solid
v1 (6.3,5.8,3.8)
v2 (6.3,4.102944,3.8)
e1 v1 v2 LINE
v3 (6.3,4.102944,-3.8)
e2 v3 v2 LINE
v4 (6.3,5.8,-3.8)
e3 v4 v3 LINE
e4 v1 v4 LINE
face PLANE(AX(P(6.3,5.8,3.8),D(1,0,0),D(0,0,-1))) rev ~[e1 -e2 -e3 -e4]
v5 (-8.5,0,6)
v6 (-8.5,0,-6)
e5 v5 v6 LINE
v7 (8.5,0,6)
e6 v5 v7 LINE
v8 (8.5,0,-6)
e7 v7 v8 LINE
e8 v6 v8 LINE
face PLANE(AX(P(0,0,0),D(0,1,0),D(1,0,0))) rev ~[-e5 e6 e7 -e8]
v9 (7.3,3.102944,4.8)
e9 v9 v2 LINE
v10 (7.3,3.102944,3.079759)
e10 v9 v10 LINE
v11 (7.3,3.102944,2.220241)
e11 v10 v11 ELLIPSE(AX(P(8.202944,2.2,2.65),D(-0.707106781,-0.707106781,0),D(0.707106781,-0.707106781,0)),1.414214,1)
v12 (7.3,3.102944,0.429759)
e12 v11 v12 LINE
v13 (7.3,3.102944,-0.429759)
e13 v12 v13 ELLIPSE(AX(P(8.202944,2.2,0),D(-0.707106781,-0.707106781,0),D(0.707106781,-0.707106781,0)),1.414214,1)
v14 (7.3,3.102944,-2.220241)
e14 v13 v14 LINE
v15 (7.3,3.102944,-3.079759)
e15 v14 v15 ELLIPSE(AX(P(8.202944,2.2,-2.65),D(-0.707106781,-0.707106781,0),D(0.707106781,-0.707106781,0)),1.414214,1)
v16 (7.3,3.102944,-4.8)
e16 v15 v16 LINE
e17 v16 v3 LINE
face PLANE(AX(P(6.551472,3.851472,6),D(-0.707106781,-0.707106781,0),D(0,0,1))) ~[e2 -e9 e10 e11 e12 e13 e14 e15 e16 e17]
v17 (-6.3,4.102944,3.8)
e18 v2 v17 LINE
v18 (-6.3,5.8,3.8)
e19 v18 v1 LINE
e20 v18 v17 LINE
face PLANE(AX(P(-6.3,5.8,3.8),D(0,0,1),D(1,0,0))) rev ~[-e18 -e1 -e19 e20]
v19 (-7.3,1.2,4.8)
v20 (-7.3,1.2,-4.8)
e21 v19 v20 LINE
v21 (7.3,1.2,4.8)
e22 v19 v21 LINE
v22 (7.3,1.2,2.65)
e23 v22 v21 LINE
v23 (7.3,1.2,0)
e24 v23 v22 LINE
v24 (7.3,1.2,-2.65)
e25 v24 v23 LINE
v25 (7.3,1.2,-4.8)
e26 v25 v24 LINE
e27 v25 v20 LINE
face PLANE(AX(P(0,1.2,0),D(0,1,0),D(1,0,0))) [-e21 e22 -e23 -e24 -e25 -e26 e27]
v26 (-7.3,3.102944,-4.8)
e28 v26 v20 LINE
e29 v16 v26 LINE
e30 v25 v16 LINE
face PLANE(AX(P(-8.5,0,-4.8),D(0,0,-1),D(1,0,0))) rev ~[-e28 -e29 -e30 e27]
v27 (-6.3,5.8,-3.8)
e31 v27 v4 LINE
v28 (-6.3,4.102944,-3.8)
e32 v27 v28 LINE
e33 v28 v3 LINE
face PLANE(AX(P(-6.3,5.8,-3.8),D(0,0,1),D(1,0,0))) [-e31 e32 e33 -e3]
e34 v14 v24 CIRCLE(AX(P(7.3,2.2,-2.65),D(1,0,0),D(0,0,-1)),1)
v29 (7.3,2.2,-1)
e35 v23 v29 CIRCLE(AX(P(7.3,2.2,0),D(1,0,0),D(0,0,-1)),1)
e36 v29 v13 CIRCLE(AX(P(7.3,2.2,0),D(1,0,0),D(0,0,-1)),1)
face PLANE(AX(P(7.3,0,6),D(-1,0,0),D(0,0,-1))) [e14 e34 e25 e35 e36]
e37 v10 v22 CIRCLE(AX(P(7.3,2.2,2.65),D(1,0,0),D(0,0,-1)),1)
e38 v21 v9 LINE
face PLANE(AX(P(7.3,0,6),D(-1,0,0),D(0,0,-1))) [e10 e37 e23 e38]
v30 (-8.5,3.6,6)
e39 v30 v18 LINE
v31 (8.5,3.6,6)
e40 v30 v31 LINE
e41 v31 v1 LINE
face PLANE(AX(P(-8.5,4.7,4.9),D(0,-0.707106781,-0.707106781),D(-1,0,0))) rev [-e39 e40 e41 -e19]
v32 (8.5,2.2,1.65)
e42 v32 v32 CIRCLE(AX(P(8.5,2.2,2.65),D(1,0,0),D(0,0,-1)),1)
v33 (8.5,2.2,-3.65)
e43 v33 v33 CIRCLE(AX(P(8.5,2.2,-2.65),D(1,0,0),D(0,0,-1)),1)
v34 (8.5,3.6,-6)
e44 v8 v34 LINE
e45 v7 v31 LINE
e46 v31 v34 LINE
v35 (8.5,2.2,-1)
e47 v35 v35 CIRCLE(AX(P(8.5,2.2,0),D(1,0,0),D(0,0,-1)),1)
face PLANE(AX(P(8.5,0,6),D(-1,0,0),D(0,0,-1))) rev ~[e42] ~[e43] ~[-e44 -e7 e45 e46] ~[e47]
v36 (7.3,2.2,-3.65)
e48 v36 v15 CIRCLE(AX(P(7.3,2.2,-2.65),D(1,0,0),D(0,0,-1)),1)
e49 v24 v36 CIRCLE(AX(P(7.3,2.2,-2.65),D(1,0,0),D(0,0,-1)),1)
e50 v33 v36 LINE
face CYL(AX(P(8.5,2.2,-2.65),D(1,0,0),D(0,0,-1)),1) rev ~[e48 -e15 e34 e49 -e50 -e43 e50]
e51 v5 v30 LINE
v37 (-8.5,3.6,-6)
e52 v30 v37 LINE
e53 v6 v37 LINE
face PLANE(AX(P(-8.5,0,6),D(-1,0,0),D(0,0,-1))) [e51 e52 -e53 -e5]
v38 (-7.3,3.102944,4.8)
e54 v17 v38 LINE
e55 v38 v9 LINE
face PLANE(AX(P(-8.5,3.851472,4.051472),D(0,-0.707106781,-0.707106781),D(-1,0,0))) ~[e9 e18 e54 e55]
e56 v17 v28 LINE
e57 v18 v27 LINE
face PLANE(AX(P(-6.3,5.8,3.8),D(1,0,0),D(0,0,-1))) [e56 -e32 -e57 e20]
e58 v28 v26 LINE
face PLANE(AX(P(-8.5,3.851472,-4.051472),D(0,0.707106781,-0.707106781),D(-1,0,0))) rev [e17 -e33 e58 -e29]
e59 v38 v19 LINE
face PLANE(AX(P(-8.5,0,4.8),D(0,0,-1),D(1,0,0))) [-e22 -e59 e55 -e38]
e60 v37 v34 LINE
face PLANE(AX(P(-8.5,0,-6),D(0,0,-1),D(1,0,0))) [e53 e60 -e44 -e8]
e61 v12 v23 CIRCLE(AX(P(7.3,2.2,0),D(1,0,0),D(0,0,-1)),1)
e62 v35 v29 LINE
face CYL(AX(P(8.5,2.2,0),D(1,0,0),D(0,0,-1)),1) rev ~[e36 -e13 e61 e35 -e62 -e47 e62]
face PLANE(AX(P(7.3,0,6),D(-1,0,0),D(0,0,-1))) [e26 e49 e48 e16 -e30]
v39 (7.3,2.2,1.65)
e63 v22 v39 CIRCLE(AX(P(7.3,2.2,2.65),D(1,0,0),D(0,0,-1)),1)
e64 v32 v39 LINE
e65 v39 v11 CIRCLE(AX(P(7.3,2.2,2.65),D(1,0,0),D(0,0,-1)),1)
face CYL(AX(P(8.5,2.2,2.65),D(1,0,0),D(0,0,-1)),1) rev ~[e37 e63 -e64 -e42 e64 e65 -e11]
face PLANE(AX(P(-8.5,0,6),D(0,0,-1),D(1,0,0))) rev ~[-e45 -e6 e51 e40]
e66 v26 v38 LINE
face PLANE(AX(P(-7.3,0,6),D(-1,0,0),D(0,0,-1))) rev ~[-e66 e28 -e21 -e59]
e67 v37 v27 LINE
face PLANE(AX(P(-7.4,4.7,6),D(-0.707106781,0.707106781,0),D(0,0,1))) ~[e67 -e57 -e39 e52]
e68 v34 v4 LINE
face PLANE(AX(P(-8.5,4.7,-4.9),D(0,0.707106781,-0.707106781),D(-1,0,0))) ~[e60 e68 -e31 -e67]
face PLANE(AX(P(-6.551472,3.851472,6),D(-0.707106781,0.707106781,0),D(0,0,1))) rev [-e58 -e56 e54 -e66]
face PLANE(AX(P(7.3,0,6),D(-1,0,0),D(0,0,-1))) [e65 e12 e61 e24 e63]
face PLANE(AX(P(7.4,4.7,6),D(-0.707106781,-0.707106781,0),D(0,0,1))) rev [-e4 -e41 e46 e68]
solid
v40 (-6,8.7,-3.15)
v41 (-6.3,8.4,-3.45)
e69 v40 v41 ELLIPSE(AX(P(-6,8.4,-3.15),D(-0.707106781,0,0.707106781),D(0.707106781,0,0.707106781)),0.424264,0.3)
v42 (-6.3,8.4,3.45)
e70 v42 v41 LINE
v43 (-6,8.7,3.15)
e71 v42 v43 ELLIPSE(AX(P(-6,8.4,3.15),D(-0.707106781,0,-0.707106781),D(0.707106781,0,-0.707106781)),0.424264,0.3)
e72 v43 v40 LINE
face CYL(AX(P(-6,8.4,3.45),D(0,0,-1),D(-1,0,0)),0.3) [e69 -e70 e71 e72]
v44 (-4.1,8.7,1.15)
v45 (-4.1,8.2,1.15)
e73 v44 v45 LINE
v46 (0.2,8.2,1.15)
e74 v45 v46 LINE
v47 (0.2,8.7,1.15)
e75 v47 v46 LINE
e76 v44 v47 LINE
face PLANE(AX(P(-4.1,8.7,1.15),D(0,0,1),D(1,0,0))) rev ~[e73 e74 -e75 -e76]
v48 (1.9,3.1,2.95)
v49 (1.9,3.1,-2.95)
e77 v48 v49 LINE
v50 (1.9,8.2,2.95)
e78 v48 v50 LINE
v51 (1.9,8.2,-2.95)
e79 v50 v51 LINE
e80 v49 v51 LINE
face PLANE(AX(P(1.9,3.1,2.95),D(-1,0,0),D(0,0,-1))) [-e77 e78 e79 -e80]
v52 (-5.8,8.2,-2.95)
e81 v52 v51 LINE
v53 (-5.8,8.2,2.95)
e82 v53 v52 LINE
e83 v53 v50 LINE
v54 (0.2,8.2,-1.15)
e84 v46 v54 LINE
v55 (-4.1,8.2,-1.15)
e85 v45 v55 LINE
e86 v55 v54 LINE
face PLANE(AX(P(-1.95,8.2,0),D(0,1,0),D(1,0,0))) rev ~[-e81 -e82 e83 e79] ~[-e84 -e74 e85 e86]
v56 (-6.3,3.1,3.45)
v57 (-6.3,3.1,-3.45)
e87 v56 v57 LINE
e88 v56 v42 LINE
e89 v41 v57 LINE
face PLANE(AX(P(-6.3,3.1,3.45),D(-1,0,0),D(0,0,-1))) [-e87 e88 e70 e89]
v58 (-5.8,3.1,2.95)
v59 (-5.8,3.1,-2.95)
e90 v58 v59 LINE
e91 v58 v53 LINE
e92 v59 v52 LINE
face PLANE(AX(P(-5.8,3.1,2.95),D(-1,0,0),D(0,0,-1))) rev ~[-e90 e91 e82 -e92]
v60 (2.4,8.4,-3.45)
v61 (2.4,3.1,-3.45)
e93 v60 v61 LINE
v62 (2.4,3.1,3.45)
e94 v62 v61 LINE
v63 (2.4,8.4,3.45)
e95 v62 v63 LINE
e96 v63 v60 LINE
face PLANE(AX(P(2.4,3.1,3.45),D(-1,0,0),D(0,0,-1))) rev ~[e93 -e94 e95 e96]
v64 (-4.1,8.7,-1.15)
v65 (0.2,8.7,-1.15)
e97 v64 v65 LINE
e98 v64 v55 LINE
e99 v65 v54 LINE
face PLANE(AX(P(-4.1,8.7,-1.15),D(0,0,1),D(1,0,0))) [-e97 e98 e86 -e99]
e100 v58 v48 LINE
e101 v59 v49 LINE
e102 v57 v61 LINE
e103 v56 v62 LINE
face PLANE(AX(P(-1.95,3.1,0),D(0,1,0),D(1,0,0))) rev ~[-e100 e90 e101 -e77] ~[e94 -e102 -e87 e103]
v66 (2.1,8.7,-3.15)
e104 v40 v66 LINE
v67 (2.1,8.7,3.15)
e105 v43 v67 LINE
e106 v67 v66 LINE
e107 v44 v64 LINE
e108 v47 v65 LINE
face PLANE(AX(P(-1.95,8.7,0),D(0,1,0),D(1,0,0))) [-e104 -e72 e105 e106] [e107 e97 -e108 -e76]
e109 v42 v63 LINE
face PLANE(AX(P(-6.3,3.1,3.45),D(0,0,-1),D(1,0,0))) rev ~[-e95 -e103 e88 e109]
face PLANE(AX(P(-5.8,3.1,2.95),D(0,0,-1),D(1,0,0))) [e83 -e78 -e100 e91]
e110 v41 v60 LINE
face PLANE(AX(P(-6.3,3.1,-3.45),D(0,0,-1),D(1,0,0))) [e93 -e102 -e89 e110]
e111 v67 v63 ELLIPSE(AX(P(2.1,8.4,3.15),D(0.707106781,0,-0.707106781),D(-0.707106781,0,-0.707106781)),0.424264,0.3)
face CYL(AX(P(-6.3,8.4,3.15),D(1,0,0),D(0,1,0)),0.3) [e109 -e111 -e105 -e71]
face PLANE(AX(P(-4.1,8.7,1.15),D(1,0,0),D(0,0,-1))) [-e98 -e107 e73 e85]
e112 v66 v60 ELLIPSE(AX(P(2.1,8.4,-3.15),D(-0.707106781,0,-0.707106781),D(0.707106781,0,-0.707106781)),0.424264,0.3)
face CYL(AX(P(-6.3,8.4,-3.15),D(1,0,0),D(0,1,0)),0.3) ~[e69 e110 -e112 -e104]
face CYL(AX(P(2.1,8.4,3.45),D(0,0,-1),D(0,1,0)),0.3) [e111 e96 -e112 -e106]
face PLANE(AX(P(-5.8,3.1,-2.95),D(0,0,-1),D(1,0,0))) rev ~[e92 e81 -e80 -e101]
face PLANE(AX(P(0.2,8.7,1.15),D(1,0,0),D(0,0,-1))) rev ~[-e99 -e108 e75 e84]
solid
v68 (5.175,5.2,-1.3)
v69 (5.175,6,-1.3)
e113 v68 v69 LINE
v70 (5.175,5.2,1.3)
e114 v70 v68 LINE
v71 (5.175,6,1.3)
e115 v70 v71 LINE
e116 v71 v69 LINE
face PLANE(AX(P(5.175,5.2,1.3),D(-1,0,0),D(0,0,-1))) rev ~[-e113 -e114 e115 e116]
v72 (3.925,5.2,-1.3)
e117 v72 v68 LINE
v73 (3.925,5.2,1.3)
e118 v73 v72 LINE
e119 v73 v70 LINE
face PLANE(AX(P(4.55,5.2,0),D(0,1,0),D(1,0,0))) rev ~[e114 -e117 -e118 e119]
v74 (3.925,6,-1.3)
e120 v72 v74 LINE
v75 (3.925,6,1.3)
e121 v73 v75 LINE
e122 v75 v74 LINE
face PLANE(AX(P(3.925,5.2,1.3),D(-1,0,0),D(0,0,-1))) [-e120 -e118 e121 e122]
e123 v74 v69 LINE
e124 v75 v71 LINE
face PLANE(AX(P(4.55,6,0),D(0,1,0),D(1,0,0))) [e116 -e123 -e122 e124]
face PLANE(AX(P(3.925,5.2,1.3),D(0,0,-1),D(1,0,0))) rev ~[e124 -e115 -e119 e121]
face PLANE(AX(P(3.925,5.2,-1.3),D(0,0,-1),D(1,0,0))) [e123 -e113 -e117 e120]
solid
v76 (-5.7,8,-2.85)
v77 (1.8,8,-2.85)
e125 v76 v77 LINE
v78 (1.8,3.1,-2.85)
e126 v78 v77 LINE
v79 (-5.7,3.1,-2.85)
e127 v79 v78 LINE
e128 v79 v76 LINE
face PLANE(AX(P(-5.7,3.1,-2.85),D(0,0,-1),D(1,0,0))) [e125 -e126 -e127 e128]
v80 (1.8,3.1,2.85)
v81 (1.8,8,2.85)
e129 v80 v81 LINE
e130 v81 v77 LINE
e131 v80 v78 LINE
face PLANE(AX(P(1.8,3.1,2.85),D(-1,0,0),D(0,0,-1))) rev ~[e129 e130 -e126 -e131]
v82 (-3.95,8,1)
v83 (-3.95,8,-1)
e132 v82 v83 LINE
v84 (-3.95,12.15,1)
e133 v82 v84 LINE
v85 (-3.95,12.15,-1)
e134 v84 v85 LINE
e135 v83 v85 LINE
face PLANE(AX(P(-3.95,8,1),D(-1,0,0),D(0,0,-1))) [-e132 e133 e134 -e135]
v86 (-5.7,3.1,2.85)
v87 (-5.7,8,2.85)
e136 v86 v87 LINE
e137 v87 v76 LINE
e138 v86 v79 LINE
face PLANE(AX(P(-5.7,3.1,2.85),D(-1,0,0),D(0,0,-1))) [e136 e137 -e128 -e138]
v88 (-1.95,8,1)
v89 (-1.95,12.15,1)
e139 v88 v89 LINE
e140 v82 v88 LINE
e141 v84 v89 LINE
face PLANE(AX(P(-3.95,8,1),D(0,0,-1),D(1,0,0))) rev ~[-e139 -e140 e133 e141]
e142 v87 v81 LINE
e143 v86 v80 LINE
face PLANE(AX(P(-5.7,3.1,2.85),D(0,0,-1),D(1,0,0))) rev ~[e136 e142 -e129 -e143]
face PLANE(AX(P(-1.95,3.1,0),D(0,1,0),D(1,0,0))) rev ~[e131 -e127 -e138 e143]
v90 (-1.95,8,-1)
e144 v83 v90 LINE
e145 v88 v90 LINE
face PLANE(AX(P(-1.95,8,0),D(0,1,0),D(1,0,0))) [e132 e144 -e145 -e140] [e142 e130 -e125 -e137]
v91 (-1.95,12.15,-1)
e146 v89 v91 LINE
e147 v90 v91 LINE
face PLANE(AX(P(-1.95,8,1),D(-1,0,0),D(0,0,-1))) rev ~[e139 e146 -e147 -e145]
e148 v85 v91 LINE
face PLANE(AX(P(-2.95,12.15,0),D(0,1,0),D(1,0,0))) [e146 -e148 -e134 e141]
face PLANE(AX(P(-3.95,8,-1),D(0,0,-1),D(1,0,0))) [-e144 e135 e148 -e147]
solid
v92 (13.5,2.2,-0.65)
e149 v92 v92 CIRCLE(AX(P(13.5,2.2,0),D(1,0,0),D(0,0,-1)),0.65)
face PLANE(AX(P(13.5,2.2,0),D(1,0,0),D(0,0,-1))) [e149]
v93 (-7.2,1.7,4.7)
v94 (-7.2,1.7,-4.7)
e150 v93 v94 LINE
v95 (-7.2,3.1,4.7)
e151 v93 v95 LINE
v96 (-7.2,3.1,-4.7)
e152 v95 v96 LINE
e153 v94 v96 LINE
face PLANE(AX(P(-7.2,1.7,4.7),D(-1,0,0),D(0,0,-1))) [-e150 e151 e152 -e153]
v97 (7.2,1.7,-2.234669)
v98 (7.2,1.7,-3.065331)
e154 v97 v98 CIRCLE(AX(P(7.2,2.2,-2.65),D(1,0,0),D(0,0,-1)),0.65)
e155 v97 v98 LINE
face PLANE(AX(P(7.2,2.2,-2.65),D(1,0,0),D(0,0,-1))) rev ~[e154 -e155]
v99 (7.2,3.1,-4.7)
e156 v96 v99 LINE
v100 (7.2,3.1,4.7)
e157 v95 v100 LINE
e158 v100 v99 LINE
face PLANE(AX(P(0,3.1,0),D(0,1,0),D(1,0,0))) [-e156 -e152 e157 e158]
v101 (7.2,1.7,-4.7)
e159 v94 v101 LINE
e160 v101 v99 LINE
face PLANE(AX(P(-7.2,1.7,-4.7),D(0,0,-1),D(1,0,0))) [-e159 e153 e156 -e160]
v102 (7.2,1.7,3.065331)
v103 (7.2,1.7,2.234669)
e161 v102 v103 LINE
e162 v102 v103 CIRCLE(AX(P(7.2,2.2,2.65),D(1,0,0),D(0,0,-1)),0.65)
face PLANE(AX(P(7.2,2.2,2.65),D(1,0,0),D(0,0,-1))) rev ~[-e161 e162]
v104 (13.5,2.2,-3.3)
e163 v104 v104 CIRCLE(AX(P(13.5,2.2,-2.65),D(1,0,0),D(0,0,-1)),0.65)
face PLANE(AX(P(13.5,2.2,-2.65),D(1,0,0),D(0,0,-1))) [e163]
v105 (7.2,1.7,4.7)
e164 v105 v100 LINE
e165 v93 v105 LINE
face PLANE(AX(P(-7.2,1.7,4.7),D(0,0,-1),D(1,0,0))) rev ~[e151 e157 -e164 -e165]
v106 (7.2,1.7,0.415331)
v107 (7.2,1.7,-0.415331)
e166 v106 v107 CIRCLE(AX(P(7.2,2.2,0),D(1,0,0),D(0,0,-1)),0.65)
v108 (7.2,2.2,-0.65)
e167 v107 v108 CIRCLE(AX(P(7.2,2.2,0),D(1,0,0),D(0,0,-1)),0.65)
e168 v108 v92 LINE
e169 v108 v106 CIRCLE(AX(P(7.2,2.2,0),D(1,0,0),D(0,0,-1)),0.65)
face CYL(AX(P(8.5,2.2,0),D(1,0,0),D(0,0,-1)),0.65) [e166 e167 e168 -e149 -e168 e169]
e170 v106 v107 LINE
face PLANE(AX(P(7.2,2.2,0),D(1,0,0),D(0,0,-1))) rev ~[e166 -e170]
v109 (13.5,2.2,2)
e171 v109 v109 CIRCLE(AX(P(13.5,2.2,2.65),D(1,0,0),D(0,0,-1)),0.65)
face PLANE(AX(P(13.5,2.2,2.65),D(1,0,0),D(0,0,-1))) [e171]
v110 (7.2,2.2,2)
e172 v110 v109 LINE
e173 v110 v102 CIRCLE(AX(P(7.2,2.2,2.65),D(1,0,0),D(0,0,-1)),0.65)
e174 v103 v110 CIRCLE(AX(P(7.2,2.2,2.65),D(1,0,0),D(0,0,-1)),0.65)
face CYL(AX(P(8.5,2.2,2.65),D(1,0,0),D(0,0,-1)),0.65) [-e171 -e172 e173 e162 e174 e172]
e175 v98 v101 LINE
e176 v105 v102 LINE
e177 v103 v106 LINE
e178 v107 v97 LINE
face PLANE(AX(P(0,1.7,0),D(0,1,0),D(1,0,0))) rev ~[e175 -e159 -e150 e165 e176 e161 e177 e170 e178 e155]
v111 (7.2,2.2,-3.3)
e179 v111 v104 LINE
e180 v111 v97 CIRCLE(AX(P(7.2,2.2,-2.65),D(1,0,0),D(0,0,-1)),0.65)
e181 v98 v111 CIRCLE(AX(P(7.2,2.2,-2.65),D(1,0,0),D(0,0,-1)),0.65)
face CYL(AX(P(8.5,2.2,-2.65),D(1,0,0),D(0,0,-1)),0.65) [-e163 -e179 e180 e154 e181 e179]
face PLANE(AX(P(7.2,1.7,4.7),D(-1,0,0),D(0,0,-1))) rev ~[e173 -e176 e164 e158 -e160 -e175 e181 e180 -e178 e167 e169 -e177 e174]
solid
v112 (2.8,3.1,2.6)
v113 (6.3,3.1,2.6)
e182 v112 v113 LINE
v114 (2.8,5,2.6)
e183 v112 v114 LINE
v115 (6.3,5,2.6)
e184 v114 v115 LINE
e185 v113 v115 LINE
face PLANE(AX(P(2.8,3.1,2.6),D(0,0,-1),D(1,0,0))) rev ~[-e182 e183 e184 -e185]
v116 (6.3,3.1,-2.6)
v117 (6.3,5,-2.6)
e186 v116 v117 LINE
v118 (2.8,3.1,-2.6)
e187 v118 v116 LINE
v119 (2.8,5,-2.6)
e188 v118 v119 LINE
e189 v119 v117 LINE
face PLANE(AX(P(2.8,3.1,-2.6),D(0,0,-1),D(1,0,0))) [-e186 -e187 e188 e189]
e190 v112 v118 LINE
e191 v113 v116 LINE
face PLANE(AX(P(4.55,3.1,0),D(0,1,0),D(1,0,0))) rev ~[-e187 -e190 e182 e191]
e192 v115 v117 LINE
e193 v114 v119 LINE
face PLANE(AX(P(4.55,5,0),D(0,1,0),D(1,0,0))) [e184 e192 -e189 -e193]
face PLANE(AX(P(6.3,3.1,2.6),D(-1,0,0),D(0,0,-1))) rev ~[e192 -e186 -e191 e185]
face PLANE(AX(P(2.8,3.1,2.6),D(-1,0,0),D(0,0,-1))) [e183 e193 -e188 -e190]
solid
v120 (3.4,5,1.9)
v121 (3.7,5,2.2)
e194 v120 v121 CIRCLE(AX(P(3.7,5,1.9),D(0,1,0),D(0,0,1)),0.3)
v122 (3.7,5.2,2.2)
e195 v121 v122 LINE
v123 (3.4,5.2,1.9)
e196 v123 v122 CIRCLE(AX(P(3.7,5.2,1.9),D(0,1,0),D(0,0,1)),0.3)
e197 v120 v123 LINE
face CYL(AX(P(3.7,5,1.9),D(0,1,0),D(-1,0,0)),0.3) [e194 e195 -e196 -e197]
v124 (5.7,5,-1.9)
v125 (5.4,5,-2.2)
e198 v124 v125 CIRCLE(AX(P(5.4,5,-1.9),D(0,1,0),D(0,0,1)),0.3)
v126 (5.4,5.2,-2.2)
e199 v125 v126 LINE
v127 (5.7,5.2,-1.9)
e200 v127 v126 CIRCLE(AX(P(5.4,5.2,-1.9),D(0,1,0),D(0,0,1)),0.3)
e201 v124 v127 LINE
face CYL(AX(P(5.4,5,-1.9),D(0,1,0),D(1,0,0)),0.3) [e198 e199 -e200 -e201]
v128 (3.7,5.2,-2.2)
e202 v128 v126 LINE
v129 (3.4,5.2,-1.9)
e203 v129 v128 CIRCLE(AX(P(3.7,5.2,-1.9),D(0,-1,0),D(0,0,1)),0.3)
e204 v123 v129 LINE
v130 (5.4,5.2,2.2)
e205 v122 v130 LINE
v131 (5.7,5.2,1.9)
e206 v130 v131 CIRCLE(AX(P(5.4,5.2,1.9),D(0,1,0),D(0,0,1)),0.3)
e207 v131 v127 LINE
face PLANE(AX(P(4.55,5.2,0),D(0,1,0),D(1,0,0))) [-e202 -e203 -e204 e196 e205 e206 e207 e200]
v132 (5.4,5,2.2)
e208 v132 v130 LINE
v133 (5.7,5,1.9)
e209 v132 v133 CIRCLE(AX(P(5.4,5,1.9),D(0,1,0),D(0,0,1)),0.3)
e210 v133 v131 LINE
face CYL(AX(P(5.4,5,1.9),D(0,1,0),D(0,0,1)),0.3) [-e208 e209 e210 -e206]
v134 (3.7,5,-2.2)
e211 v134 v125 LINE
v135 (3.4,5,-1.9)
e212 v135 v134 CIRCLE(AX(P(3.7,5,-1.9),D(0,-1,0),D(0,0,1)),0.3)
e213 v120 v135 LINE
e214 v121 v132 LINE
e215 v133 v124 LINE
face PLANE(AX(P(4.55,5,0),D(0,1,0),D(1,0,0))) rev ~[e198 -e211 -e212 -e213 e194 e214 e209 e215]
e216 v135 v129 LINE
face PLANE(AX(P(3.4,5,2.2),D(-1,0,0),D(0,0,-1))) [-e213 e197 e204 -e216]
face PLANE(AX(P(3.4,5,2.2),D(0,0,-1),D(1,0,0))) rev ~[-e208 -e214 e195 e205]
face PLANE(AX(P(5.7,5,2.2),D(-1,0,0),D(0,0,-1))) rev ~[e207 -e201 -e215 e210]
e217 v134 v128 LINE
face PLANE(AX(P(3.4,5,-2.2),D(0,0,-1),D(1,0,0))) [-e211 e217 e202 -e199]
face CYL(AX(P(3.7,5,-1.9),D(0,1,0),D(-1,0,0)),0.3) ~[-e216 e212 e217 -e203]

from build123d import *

# Parameters (mm, degrees)
SKIZZE1_W                            = 17
SKIZZE1_H                            = 12
AUFSATZ_LINEAR_AUSTRAGEN1_DEPTH      = 5.8
FASE1_SIZE                           = 2.2
WANDUNG1_T                           = -1.2
SCHNITT_LINEAR_AUSTRAGEN1_REACH      = 7.8
SKIZZE2_W                            = 12.6
SKIZZE2_H                            = 7.6
AUFSATZ_LINEAR_START                 = 0.5
SKIZZE3_W                            = 14.4
SKIZZE3_H                            = 9.4
AUFSATZ_LINEAR_AUSTRAGEN2_DEPTH      = 1.4
SKIZZE4_R                            = 1
SCHNITT_LINEAR_AUSTRAGEN2_DEPTH      = 1.3
SKIZZE4_3_R                          = 0.65
AUFSATZ_LINEAR_AUSTRAGEN3_DEPTH      = 5
AUFSATZ_LINEAR_AUSTRAGEN3_DEPTH_BACK = 1.3
SKIZZE5_W                            = 8.7
SKIZZE5_H                            = 6.9
SKIZZE5_W_2                          = 7.7
SKIZZE5_H_2                          = 5.9
LINEAR_AUSTRAGEN_D_NN1_DEPTH         = 5.6
AUFSATZ_LINEAR_START_2               = 5.6
SKIZZE5_3_W                          = 8.7
SKIZZE5_3_H                          = 6.9
SKIZZE5_3_W_2                        = 4.3
SKIZZE5_3_H_2                        = 2.3
SKIZZE5_3_W_3                        = 7.5
SKIZZE5_3_H_3                        = 5.7
AUFSATZ_LINEAR_AUSTRAGEN6_DEPTH      = 0.5
SKIZZE5_4_W                          = 3.5
SKIZZE5_4_H                          = 5.2
AUFSATZ_LINEAR_AUSTRAGEN7_DEPTH      = 1.9
AUFSATZ_LINEAR_START_3               = 1.9
SKIZZE5_5_W                          = 2.3
SKIZZE5_5_H                          = 4.4
AUFSATZ_LINEAR_AUSTRAGEN8_DEPTH      = 0.2
AUFSATZ_LINEAR_START_4               = 2.1
SKIZZE5_7_W                          = 1.25
SKIZZE5_7_H                          = 2.6
AUFSATZ_LINEAR_AUSTRAGEN9_DEPTH      = 0.8
SKIZZE5_9_W                          = 7.5
SKIZZE5_9_H                          = 5.7
AUFSATZ_LINEAR_AUSTRAGEN10_DEPTH     = 4.9
AUFSATZ_LINEAR_START_5               = 4.9
SKIZZE5_10_W                         = 2
SKIZZE5_10_H                         = 2
AUFSATZ_LINEAR_AUSTRAGEN11_DEPTH     = 4.15
VERRUNDUNG1_R                        = 0.3
VERRUNDUNG2_R                        = 0.3


with BuildPart() as part:
    # Skizze1 → Aufsatz-Linear austragen1 (new body)
    with BuildSketch(Plane(origin=(0, 0, 0), x_dir=(1, 0, 0), z_dir=(0, 1, 0))):
        Rectangle(SKIZZE1_W, SKIZZE1_H)
    extrude(amount=AUFSATZ_LINEAR_AUSTRAGEN1_DEPTH)

    # Fase1
    fase1_edges = [part.edges().sort_by_distance(p)[0] for p in [
        (8.5, 5.8, 0),
        (0, 5.8, -6),
        (-8.5, 5.8, 0),
        (0, 5.8, 6),
    ]]
    chamfer(fase1_edges, length=FASE1_SIZE)

    # Wandung1
    wandung1_openings = [part.faces().sort_by_distance(p)[0] for p in [
        (0, 5.8, 0),
    ]]
    offset(amount=WANDUNG1_T, openings=wandung1_openings, kind=Kind.INTERSECTION)

    # Skizze2 → Schnitt-Linear austragen1 (cut, up to next)
    with BuildSketch(Plane(origin=(0, 5.8, 0), x_dir=(1, 0, 0), z_dir=(0, 1, 0)), mode=Mode.PRIVATE) as schnitt_linear_austragen1_sk1:
        Rectangle(SKIZZE2_W, SKIZZE2_H)
    schnitt_linear_austragen1_tool1 = extrude(schnitt_linear_austragen1_sk1.sketch, amount=-SCHNITT_LINEAR_AUSTRAGEN1_REACH, mode=Mode.PRIVATE) & part.part
    add(schnitt_linear_austragen1_tool1.solids().sort_by_distance((0, 5.8, 0))[0], mode=Mode.SUBTRACT)

    # Skizze4 → Schnitt-Linear austragen2 (cut)
    with BuildSketch(Plane(origin=(8.5, 0, 0), x_dir=(0, 0, -1), z_dir=(1, 0, 0))):
        with Locations((-2.65, 2.2)):
            Circle(SKIZZE4_R)
        with Locations((0, 2.2)):
            Circle(SKIZZE4_R)
        with Locations((2.65, 2.2)):
            Circle(SKIZZE4_R)
    extrude(amount=-SCHNITT_LINEAR_AUSTRAGEN2_DEPTH, mode=Mode.SUBTRACT)


with BuildPart() as body_2:
    # Skizze3 → Aufsatz-Linear austragen2 (new body)
    with BuildSketch(Plane(origin=(0, 1.2, 0), x_dir=(1, 0, 0), z_dir=(0, 1, 0)).offset(AUFSATZ_LINEAR_START)):
        Rectangle(SKIZZE3_W, SKIZZE3_H)
    extrude(amount=AUFSATZ_LINEAR_AUSTRAGEN2_DEPTH)

    # Skizze4<3> → Aufsatz-Linear austragen3 (add, two sides)
    with BuildSketch(Plane(origin=(8.5, 0, 0), x_dir=(0, 0, -1), z_dir=(1, 0, 0))) as aufsatz_linear_austragen3_sk:
        with Locations((-2.65, 2.2)):
            Circle(SKIZZE4_3_R)
        with Locations((0, 2.2)):
            Circle(SKIZZE4_3_R)
        with Locations((2.65, 2.2)):
            Circle(SKIZZE4_3_R)
    extrude(amount=AUFSATZ_LINEAR_AUSTRAGEN3_DEPTH)
    extrude(aufsatz_linear_austragen3_sk.sketch, amount=-AUFSATZ_LINEAR_AUSTRAGEN3_DEPTH_BACK)


with BuildPart() as body_3:
    # Skizze5 → Linear-Austragen-Dünn1 (new body)
    with BuildSketch(Plane(origin=(0, 3.1, 0), x_dir=(1, 0, 0), z_dir=(0, 1, 0))):
        with Locations((-1.95, 0)):
            Rectangle(SKIZZE5_W, SKIZZE5_H)
        with Locations((-1.95, 0)):
            Rectangle(SKIZZE5_W_2, SKIZZE5_H_2, mode=Mode.SUBTRACT)
    extrude(amount=LINEAR_AUSTRAGEN_D_NN1_DEPTH)

    # Skizze5<3> → Aufsatz-Linear austragen6 (add)
    with BuildSketch(Plane(origin=(0, 3.1, 0), x_dir=(1, 0, 0), z_dir=(0, 1, 0)).offset(AUFSATZ_LINEAR_START_2)):
        with Locations((-1.95, 0)):
            Rectangle(SKIZZE5_3_W, SKIZZE5_3_H)
        with Locations((-1.95, 0)):
            Rectangle(SKIZZE5_3_W_2, SKIZZE5_3_H_2, mode=Mode.SUBTRACT)
        with Locations((-1.95, 0)):
            Rectangle(SKIZZE5_3_W_3, SKIZZE5_3_H_3)
        with Locations((-1.95, 0)):
            Rectangle(SKIZZE5_3_W_2, SKIZZE5_3_H_2, mode=Mode.SUBTRACT)
    extrude(amount=-AUFSATZ_LINEAR_AUSTRAGEN6_DEPTH)

    # Verrundung1
    verrundung1_edges = [body_3.edges().sort_by_distance(p)[0] for p in [
        (2.4, 8.7, 0),
        (-1.95, 8.7, -3.45),
        (-6.3, 8.7, 0),
        (-1.95, 8.7, 3.45),
    ]]
    fillet(verrundung1_edges, radius=VERRUNDUNG1_R)


with BuildPart() as body_4:
    # Skizze5<4> → Aufsatz-Linear austragen7 (new body)
    with BuildSketch(Plane(origin=(0, 3.1, 0), x_dir=(1, 0, 0), z_dir=(0, 1, 0))):
        with Locations((4.55, 0)):
            Rectangle(SKIZZE5_4_W, SKIZZE5_4_H)
    extrude(amount=AUFSATZ_LINEAR_AUSTRAGEN7_DEPTH)


with BuildPart() as body_5:
    # Skizze5<5> → Aufsatz-Linear austragen8 (new body)
    with BuildSketch(Plane(origin=(0, 3.1, 0), x_dir=(1, 0, 0), z_dir=(0, 1, 0)).offset(AUFSATZ_LINEAR_START_3)):
        with Locations((4.55, 0)):
            Rectangle(SKIZZE5_5_W, SKIZZE5_5_H)
    extrude(amount=AUFSATZ_LINEAR_AUSTRAGEN8_DEPTH)

    # Verrundung2
    verrundung2_edges = [body_5.edges().sort_by_distance(p)[0] for p in [
        (3.4, 5.1, 2.2),
        (3.4, 5.1, -2.2),
        (5.7, 5.1, -2.2),
        (5.7, 5.1, 2.2),
    ]]
    fillet(verrundung2_edges, radius=VERRUNDUNG2_R)


with BuildPart() as body_6:
    # Skizze5<7> → Aufsatz-Linear austragen9 (new body)
    with BuildSketch(Plane(origin=(0, 3.1, 0), x_dir=(1, 0, 0), z_dir=(0, 1, 0)).offset(AUFSATZ_LINEAR_START_4)):
        with Locations((4.55, 0)):
            Rectangle(SKIZZE5_7_W, SKIZZE5_7_H)
    extrude(amount=AUFSATZ_LINEAR_AUSTRAGEN9_DEPTH)


with BuildPart() as body_7:
    # Skizze5<9> → Aufsatz-Linear austragen10 (new body)
    with BuildSketch(Plane(origin=(0, 3.1, 0), x_dir=(1, 0, 0), z_dir=(0, 1, 0))):
        with Locations((-1.95, 0)):
            Rectangle(SKIZZE5_9_W, SKIZZE5_9_H)
    extrude(amount=AUFSATZ_LINEAR_AUSTRAGEN10_DEPTH)

    # Skizze5<10> → Aufsatz-Linear austragen11 (add)
    with BuildSketch(Plane(origin=(0, 3.1, 0), x_dir=(1, 0, 0), z_dir=(0, 1, 0)).offset(AUFSATZ_LINEAR_START_5)):
        with Locations((-2.95, 0)):
            Rectangle(SKIZZE5_10_W, SKIZZE5_10_H)
    extrude(amount=AUFSATZ_LINEAR_AUSTRAGEN11_DEPTH)


solid = Compound([part.part, body_2.part, body_3.part, body_4.part, body_5.part, body_6.part, body_7.part])
